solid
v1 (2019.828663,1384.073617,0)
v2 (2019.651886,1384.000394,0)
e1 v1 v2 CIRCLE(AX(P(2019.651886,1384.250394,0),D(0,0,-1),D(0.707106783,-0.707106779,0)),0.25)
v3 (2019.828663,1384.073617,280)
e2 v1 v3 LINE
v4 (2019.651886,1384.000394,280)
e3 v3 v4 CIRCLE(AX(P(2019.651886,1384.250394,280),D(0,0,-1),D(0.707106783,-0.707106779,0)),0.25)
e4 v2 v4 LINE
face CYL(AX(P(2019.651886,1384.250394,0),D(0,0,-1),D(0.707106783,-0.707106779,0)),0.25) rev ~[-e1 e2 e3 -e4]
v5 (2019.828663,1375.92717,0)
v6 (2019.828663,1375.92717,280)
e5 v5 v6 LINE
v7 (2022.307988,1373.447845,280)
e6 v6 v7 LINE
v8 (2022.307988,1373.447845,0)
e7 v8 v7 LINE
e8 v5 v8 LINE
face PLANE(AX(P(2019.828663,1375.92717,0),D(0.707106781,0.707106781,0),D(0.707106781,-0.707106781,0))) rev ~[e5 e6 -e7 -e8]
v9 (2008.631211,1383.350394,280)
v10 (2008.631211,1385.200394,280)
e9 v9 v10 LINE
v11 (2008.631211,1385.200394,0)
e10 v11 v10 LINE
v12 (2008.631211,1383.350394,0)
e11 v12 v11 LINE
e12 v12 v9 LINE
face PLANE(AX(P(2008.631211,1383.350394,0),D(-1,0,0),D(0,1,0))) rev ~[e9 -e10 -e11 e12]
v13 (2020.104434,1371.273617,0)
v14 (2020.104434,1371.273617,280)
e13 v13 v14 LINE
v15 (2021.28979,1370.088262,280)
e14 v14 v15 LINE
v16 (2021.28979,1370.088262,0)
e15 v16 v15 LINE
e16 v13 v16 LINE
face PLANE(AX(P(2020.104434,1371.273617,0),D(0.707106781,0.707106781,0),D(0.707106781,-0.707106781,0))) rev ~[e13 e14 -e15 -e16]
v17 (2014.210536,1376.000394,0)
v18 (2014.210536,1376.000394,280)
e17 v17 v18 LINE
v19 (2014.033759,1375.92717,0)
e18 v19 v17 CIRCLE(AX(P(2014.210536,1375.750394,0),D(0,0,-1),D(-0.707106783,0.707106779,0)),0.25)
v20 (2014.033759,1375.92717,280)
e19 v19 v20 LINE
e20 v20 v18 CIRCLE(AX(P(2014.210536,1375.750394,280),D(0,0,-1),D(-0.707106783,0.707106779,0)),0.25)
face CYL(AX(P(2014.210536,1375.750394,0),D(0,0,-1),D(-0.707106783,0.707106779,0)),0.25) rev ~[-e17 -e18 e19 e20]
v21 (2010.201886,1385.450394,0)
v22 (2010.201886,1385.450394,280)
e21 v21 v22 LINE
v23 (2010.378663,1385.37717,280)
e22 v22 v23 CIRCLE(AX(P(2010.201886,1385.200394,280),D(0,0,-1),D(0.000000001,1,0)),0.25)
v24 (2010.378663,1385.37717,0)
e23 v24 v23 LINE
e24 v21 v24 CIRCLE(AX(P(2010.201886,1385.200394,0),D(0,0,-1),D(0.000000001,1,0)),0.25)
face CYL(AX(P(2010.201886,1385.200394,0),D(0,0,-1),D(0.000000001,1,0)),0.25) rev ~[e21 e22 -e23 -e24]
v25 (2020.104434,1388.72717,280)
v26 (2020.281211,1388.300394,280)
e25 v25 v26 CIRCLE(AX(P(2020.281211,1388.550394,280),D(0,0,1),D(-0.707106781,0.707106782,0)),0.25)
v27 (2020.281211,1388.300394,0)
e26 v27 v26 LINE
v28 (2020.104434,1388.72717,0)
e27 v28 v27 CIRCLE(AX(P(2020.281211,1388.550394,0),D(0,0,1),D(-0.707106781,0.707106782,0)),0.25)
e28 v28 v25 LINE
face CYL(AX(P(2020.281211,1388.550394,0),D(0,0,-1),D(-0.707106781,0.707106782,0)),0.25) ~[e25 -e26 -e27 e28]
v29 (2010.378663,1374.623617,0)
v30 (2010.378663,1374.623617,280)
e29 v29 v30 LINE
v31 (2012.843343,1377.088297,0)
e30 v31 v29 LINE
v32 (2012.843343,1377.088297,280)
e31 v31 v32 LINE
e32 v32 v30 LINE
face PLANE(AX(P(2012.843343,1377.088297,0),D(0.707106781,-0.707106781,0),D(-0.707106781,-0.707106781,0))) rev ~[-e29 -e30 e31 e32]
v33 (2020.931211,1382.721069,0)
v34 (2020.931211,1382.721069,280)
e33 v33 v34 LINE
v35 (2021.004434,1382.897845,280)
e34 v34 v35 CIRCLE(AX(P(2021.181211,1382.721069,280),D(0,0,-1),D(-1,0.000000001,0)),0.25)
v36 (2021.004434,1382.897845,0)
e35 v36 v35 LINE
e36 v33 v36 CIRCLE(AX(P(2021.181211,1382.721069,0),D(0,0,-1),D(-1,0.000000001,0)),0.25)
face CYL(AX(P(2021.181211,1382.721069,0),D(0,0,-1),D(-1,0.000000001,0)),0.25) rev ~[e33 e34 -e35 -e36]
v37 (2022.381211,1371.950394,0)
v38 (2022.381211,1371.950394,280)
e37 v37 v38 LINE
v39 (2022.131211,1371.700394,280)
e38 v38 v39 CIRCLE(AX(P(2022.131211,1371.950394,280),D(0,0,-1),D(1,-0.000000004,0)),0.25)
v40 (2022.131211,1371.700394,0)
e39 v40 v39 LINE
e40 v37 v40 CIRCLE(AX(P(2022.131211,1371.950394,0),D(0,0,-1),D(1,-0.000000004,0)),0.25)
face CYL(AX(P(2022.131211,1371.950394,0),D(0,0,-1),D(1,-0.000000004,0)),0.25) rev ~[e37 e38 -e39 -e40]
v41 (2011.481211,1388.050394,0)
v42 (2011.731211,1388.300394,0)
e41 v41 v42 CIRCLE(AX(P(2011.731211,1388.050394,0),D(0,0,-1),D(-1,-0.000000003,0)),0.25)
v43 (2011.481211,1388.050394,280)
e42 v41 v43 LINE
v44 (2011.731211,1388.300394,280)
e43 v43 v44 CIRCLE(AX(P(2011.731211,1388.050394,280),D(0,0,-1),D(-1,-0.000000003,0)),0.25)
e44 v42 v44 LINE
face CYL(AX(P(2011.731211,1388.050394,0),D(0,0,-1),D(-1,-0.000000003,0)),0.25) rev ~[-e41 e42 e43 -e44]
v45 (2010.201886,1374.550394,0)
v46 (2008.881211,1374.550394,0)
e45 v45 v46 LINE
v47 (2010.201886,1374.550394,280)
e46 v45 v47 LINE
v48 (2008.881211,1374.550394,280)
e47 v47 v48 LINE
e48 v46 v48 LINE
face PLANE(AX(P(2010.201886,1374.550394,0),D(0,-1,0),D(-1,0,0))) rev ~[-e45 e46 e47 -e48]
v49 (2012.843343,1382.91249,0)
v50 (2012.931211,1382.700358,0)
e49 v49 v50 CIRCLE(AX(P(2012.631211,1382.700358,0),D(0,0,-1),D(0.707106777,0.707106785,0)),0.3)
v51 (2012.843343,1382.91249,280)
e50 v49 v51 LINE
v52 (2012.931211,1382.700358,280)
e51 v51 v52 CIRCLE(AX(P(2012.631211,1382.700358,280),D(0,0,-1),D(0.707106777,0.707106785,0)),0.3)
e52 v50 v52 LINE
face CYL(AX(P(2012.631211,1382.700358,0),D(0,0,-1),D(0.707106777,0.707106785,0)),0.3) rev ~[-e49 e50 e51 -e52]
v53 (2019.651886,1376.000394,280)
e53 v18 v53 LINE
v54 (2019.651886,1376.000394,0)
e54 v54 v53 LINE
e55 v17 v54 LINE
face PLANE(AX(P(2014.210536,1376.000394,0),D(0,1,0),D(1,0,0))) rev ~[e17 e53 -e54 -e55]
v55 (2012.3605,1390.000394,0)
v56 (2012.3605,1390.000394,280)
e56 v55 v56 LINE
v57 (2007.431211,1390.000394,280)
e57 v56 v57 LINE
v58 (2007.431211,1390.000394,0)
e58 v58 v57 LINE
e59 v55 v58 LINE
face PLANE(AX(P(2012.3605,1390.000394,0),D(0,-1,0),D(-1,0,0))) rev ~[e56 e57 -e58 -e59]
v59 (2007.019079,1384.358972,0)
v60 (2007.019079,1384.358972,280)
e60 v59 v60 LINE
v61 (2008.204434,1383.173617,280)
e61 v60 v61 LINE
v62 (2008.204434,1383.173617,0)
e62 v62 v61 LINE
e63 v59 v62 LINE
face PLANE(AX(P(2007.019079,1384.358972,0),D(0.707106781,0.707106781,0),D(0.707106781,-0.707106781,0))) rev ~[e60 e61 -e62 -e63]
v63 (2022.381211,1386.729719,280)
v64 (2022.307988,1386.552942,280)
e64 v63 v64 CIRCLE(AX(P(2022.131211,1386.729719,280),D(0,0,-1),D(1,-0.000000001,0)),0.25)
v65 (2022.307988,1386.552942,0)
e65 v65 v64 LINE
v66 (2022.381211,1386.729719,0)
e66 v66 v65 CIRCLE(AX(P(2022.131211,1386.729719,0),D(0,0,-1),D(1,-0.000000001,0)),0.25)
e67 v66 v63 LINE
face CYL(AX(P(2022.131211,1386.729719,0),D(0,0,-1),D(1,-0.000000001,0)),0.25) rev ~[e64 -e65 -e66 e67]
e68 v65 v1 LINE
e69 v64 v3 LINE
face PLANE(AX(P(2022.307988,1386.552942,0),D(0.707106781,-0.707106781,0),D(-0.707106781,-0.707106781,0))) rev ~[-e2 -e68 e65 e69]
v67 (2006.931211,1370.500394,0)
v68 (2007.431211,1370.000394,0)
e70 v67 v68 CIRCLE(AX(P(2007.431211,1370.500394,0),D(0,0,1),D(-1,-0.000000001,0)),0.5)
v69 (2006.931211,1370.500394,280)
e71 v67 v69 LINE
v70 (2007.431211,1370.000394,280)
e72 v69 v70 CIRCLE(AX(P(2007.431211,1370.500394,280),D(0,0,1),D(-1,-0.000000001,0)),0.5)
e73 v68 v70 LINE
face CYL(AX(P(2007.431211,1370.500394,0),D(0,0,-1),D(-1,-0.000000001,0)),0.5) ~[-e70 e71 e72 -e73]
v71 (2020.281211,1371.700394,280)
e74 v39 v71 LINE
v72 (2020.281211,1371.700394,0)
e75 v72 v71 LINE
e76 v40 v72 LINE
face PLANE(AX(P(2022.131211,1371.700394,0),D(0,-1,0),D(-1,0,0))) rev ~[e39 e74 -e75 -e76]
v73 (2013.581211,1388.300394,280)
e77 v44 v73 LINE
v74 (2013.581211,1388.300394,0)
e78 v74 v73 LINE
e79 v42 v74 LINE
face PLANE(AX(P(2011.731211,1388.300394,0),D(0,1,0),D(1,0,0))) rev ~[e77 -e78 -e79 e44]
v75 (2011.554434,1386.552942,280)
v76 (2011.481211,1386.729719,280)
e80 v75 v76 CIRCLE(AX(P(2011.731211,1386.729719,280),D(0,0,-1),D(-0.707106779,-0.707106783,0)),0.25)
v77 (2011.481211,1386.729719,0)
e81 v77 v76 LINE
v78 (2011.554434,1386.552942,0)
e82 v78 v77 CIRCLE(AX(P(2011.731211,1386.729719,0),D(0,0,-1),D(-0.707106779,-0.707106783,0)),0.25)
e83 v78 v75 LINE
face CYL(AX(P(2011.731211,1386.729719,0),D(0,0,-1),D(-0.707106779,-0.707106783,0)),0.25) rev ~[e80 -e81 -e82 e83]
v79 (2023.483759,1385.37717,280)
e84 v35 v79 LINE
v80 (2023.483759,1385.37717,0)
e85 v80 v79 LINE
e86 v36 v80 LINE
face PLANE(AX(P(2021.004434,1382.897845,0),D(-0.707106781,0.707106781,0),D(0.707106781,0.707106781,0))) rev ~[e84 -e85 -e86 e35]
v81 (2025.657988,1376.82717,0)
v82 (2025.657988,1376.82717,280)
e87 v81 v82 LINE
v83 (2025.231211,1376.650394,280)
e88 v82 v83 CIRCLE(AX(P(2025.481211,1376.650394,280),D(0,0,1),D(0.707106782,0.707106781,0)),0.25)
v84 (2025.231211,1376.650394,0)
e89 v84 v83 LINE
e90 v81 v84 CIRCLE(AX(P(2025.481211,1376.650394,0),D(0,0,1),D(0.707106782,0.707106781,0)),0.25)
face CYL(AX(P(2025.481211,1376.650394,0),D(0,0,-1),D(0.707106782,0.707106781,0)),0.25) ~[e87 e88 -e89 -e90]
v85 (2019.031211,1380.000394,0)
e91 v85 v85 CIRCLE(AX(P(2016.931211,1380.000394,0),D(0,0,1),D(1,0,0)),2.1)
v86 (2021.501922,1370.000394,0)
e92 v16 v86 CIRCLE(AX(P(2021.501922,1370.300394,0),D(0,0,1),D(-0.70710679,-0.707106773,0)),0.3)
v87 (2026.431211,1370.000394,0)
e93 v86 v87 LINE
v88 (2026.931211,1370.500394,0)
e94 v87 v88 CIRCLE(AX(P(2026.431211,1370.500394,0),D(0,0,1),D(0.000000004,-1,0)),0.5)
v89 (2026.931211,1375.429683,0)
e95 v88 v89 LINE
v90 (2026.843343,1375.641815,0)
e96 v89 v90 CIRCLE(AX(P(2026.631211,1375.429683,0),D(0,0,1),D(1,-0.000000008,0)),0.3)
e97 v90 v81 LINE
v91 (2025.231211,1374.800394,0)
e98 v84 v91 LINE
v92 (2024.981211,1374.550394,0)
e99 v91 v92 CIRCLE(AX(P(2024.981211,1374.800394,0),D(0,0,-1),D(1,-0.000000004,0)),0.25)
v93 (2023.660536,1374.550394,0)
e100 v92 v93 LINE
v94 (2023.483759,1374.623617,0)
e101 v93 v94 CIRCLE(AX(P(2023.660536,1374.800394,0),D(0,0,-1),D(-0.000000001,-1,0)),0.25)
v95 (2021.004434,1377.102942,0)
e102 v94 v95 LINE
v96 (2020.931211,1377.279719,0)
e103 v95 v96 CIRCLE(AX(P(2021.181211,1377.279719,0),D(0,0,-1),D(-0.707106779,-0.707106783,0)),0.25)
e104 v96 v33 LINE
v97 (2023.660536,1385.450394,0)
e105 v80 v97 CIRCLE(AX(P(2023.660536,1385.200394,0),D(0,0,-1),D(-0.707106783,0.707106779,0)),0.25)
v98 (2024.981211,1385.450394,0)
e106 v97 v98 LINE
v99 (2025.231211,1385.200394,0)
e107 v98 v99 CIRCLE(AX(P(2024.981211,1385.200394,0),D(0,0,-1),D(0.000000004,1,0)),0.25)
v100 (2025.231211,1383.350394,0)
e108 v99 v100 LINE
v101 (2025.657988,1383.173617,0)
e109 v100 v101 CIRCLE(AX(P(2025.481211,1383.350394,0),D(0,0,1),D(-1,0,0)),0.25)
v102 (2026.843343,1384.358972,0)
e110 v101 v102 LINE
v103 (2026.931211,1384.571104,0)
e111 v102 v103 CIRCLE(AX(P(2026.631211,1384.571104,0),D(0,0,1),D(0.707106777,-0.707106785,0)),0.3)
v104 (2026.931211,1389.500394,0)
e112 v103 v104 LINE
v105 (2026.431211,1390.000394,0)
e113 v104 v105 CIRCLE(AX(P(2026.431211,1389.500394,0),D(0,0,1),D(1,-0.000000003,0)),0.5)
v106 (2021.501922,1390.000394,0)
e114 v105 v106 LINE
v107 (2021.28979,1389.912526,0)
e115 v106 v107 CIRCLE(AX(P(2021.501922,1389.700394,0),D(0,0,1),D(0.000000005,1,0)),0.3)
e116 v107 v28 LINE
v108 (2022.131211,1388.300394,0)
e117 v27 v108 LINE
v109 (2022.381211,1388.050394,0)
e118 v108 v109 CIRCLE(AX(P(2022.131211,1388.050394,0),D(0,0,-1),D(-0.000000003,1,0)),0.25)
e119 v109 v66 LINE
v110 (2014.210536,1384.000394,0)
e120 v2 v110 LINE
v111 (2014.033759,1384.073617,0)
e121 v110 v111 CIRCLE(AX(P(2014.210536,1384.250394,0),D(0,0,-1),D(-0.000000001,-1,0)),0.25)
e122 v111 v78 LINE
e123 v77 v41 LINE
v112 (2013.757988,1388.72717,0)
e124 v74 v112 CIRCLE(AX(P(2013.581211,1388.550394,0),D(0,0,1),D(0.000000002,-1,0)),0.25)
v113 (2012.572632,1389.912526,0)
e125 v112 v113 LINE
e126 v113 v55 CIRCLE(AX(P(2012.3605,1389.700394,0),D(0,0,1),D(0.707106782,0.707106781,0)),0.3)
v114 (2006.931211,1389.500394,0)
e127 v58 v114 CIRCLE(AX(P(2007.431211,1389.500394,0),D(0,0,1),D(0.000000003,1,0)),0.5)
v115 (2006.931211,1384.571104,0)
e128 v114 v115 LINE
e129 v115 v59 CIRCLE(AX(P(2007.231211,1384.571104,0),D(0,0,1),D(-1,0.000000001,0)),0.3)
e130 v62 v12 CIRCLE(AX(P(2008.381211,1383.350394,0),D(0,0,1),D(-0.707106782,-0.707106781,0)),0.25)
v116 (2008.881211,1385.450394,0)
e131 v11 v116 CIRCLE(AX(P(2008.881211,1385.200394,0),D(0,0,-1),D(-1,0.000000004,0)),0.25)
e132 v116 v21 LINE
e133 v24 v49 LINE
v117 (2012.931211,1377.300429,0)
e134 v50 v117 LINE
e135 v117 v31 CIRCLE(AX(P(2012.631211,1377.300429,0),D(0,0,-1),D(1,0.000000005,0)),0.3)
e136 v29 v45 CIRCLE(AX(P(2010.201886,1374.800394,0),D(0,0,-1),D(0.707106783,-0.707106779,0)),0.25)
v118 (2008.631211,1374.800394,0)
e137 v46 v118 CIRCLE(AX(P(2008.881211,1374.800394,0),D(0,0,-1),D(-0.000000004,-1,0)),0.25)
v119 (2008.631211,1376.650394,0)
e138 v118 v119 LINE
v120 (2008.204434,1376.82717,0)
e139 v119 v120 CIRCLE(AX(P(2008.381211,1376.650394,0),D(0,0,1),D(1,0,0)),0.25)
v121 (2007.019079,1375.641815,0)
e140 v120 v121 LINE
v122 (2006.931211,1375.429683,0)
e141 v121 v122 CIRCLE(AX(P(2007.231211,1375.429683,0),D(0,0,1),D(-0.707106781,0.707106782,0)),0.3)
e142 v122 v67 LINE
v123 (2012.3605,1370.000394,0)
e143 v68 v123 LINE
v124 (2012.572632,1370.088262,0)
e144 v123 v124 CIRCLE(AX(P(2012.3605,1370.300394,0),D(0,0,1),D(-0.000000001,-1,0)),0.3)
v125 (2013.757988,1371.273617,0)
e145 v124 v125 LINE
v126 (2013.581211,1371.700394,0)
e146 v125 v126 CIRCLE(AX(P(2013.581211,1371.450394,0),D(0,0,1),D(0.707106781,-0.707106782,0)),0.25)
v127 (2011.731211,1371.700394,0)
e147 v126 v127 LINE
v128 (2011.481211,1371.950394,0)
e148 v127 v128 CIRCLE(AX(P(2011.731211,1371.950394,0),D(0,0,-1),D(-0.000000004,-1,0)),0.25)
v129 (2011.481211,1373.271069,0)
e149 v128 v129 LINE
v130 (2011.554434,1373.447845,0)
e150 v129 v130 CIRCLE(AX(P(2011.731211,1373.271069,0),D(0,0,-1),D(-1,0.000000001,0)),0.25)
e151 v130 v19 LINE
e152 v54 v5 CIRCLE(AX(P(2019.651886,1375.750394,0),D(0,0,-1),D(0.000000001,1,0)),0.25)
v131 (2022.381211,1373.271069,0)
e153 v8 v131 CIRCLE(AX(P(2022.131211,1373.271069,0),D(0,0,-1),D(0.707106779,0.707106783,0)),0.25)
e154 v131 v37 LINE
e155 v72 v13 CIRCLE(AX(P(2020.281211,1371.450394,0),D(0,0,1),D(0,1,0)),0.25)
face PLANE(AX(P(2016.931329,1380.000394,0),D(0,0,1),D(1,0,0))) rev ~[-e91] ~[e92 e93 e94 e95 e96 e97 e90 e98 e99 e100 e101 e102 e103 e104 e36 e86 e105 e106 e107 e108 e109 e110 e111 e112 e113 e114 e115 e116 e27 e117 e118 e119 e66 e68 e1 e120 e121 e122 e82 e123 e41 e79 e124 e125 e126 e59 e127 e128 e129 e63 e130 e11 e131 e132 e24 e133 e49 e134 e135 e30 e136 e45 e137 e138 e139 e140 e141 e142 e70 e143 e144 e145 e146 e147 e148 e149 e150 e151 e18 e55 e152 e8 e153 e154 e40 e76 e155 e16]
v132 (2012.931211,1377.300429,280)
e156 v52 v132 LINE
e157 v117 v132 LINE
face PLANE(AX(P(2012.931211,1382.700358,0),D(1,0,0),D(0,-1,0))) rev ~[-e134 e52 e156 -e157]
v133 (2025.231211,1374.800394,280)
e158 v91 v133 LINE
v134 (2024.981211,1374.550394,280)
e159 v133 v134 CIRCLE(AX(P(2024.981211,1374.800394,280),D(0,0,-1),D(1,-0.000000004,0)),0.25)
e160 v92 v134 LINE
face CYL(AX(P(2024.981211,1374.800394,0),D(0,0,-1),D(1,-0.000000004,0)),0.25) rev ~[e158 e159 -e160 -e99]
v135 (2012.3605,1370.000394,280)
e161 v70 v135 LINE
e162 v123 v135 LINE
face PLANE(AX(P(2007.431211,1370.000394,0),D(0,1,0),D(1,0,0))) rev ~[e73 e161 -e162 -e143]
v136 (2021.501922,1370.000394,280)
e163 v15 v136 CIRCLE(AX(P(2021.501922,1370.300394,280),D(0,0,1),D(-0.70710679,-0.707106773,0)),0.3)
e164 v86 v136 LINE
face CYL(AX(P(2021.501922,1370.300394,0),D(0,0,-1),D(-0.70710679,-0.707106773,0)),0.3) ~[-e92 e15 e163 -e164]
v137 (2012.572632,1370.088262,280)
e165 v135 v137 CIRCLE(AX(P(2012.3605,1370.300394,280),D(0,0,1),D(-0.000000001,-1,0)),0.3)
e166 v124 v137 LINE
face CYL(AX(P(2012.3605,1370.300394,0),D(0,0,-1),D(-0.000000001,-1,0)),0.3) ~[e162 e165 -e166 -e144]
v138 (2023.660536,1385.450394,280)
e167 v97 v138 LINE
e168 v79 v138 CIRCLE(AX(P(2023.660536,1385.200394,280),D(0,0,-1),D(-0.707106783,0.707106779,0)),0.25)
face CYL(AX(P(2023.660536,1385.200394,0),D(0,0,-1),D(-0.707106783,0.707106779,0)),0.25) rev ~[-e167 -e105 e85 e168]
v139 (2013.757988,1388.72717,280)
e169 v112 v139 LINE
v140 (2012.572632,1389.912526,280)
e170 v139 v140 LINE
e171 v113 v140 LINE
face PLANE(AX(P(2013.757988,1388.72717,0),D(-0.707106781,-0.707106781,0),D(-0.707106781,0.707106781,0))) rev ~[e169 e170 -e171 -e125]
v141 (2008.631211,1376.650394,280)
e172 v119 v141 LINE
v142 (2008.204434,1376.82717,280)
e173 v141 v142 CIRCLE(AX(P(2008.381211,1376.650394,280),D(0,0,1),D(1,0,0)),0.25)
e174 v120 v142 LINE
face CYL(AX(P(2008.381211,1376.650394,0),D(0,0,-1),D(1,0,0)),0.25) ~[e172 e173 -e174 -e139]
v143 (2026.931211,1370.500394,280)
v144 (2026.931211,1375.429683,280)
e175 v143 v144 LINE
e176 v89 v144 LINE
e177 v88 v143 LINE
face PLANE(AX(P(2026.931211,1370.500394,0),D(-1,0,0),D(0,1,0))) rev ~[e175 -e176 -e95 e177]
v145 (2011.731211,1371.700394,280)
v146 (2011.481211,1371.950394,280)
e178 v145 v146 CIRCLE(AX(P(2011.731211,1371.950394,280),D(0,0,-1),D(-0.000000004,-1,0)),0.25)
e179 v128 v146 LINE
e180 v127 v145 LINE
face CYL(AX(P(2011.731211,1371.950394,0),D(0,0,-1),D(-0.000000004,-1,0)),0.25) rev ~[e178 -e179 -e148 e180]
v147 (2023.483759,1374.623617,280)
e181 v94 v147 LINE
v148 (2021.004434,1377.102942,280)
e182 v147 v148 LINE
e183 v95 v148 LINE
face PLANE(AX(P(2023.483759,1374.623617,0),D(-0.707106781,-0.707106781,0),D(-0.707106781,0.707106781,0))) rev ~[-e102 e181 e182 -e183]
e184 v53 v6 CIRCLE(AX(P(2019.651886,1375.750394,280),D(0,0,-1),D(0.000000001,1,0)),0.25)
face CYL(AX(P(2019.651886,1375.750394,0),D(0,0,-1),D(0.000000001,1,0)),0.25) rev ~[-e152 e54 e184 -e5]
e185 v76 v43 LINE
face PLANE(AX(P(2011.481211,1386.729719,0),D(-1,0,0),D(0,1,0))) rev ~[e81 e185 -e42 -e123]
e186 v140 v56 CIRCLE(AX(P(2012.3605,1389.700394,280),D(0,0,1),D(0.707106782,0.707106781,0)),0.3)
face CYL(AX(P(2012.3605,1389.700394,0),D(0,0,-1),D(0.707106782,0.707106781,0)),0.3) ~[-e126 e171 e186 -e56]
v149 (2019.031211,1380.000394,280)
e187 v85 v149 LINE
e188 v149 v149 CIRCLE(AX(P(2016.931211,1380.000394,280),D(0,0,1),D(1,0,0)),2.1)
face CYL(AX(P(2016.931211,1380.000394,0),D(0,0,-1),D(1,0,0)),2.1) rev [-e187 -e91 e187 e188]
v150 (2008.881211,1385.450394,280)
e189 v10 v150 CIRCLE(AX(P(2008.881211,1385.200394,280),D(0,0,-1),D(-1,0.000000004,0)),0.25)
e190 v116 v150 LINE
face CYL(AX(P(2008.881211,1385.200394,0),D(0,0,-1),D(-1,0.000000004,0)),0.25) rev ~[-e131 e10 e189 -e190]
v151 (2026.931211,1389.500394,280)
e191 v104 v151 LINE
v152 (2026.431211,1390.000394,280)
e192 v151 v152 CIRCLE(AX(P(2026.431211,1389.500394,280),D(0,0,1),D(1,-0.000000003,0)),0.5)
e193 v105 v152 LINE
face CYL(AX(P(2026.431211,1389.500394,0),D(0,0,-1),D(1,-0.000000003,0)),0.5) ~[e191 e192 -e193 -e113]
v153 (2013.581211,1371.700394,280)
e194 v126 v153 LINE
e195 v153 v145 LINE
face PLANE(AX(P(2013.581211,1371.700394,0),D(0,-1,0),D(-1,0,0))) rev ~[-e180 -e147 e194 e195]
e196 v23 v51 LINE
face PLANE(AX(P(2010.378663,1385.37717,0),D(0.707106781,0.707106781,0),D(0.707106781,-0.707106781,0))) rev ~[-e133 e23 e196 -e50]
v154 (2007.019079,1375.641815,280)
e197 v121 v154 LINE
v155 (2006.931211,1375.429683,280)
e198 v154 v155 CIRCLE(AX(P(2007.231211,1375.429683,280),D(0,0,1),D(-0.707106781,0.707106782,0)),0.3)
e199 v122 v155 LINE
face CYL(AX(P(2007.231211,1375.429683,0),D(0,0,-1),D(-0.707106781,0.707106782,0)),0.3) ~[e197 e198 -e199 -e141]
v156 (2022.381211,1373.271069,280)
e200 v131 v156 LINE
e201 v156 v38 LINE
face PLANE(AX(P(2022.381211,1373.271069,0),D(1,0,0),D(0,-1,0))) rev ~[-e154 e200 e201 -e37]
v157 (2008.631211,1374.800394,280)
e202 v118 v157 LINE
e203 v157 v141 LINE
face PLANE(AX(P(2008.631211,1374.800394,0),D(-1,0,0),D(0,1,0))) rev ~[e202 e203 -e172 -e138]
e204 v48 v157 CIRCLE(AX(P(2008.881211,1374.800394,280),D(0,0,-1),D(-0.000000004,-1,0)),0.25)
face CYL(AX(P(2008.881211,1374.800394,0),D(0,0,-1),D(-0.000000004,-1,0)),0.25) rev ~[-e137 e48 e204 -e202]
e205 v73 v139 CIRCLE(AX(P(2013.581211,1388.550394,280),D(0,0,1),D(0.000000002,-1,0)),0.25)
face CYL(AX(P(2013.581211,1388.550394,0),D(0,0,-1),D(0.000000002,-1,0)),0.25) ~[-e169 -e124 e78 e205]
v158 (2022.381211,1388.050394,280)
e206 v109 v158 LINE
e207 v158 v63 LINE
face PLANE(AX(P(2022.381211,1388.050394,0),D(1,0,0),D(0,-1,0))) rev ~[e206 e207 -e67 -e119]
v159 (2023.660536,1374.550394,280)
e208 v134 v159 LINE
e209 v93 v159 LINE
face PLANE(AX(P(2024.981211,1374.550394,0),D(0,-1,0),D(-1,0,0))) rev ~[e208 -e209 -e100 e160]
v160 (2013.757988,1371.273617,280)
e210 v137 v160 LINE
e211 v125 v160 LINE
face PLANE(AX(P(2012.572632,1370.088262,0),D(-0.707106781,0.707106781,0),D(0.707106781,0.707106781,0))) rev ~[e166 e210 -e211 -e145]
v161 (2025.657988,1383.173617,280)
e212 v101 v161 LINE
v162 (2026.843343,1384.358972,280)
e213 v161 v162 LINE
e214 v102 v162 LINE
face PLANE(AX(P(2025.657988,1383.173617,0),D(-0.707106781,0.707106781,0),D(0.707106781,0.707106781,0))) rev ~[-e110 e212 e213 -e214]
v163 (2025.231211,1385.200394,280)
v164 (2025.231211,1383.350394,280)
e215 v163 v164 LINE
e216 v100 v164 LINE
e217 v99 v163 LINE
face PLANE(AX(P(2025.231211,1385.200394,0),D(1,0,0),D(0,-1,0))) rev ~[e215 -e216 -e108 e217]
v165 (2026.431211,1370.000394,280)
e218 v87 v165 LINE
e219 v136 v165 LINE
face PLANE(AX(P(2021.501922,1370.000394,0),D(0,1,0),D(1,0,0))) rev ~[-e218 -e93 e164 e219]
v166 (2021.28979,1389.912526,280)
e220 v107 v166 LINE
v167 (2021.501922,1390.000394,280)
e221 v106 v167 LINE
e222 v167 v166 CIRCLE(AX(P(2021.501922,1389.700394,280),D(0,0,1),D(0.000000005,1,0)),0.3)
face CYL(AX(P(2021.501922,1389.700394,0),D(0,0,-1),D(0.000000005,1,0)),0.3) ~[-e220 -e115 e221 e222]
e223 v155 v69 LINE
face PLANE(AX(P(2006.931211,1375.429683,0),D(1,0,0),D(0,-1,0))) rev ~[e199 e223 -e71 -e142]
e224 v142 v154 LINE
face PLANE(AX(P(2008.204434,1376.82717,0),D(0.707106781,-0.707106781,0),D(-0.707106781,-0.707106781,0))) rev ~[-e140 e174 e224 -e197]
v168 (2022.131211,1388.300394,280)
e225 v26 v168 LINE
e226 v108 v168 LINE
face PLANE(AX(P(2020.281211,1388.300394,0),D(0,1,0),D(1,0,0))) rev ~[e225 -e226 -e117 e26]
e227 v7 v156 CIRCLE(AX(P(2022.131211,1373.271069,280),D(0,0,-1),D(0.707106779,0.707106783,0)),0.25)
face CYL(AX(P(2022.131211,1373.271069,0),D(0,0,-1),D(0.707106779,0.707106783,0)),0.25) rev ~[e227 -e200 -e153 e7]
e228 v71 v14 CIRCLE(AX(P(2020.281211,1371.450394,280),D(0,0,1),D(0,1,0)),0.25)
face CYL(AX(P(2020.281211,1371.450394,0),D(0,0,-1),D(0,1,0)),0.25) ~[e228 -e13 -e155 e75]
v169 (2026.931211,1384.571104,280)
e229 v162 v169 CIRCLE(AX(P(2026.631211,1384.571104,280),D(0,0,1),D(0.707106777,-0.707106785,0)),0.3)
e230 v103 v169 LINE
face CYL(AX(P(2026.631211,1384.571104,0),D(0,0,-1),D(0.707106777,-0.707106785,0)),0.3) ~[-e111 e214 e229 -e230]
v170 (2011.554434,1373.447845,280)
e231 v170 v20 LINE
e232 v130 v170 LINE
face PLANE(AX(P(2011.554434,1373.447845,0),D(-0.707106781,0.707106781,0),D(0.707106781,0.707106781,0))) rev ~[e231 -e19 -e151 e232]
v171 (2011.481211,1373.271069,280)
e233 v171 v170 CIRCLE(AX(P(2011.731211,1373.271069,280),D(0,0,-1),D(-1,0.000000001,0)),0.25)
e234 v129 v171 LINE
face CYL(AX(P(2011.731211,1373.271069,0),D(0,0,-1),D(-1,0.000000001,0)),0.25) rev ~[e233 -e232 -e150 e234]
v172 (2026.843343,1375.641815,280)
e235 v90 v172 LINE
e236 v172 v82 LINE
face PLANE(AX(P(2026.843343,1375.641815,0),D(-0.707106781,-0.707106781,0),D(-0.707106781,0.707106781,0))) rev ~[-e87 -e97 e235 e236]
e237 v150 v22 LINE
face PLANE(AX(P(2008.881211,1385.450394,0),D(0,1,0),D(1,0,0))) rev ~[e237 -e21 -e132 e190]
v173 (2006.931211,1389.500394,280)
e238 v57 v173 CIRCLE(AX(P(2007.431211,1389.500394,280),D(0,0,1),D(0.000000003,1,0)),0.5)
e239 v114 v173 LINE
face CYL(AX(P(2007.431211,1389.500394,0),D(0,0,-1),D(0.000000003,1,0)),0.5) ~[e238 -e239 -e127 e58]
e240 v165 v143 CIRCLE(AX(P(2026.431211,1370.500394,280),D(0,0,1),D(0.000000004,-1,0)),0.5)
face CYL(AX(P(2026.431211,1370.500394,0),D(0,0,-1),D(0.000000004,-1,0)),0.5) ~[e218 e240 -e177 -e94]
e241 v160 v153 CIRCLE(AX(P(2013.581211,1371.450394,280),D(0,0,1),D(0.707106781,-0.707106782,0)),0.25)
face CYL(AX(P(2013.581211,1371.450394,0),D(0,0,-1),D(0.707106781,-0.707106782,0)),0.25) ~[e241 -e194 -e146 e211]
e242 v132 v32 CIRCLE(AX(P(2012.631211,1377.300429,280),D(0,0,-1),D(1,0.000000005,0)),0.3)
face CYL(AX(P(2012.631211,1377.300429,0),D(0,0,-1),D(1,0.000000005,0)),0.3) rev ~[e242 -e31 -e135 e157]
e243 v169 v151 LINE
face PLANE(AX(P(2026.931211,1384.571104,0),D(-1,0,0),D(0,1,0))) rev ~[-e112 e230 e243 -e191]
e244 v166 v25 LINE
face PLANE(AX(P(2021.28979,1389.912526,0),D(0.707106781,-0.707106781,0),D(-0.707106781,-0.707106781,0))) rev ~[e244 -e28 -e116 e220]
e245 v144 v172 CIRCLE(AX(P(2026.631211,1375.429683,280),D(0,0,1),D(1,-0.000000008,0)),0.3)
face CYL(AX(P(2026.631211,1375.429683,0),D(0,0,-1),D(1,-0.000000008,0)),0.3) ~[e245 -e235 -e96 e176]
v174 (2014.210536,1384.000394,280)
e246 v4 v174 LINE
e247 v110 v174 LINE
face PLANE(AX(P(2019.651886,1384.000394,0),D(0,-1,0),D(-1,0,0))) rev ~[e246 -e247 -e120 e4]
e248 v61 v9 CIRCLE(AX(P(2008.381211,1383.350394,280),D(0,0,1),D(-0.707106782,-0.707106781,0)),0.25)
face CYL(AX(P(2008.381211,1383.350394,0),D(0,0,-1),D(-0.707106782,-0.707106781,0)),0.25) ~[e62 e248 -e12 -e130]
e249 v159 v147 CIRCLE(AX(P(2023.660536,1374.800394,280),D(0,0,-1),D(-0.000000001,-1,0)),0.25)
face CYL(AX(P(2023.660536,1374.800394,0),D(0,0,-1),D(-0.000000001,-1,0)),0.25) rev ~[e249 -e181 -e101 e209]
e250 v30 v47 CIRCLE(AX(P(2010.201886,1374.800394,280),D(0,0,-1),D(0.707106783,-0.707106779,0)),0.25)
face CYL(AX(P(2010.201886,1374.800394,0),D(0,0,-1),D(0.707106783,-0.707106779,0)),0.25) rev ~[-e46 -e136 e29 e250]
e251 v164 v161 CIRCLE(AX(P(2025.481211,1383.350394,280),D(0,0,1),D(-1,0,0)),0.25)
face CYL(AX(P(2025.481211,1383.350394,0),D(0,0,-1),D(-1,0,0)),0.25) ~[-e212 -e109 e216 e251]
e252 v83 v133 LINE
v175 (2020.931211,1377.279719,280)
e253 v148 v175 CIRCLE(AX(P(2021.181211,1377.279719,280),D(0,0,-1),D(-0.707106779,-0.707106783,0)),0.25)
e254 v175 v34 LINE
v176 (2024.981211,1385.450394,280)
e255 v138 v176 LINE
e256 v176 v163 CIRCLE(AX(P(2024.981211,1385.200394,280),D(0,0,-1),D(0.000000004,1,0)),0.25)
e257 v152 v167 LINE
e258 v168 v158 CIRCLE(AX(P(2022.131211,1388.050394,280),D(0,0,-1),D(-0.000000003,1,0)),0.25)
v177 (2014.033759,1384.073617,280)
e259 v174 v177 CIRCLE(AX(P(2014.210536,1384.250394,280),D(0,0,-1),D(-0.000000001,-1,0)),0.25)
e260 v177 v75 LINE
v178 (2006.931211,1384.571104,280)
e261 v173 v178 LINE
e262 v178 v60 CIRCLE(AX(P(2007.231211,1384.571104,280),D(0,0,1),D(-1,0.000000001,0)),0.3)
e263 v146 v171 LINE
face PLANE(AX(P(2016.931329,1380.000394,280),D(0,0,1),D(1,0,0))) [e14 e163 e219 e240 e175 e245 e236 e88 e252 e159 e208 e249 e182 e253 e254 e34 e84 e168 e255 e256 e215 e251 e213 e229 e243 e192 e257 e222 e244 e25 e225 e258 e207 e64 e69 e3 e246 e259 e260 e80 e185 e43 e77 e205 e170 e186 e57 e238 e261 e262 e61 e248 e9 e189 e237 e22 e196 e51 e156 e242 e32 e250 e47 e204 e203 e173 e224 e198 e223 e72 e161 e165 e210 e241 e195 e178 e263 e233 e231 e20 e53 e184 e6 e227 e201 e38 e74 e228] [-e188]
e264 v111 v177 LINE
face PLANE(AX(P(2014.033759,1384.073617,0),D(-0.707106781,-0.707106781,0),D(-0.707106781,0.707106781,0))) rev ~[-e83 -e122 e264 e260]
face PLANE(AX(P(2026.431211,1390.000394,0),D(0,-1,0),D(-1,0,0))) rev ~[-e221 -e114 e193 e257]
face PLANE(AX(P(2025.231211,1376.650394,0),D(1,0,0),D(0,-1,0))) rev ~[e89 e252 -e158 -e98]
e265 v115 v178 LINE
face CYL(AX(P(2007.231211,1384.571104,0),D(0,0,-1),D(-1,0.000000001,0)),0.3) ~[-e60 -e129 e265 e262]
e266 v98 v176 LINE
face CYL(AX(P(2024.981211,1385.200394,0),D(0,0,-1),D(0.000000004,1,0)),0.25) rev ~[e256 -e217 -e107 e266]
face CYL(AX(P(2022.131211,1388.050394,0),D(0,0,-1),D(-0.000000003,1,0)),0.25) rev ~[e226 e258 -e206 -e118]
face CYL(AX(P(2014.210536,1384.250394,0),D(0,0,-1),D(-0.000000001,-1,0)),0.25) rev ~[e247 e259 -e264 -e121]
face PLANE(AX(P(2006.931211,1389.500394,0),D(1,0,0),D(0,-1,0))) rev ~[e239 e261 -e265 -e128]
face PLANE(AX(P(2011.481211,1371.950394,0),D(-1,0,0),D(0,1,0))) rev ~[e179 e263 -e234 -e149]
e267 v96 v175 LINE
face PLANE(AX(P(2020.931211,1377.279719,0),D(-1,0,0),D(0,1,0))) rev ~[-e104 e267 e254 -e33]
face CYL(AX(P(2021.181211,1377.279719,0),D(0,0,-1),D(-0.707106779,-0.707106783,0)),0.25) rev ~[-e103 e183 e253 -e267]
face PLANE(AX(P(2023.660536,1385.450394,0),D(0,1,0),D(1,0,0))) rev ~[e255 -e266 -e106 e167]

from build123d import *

# Parameters (mm, degrees)
MODEL_R             = 2.1
BOSS_EXTRUDE1_DEPTH = 280


with BuildPart() as part:
    # Model → Boss-Extrude1 (new body)
    with BuildSketch(Plane.XY):
        with BuildLine():
            Line((2012.931211125, 1381.800393717), (2012.931211125, 1378.200393717))
            Line((2012.931211125, 1378.200393717), (2012.931211125, 1377.300429431))
            ThreePointArc((2012.931211125, 1377.300429431), (2012.908374985, 1377.185624401), (2012.843343159, 1377.088297396))
            Line((2012.843343159, 1377.088297396), (2010.378662785, 1374.623617022))
            ThreePointArc((2010.378662785, 1374.623617022), (2010.297556948, 1374.569423834), (2010.20188609, 1374.550393717))
            Line((2010.20188609, 1374.550393717), (2008.881211125, 1374.550393717))
            ThreePointArc((2008.881211125, 1374.550393717), (2008.70443443, 1374.623617022), (2008.631211125, 1374.800393717))
            Line((2008.631211125, 1374.800393717), (2008.631211125, 1376.650393717))
            ThreePointArc((2008.631211125, 1376.650393717), (2008.476881983, 1376.8813636), (2008.20443443, 1376.827170412))
            Line((2008.20443443, 1376.827170412), (2007.01907909, 1375.641815073))
            ThreePointArc((2007.01907909, 1375.641815073), (2006.954047265, 1375.544488069), (2006.931211125, 1375.429683039))
            Line((2006.931211125, 1375.429683039), (2006.931211125, 1370.500393717))
            ThreePointArc((2006.931211125, 1370.500393717), (2007.077657734, 1370.146840327), (2007.431211125, 1370.000393717))
            Line((2007.431211125, 1370.000393717), (2012.360500447, 1370.000393717))
            ThreePointArc((2012.360500447, 1370.000393717), (2012.475305476, 1370.023229857), (2012.572632481, 1370.088261683))
            Line((2012.572632481, 1370.088261683), (2013.75798782, 1371.273617022))
            ThreePointArc((2013.75798782, 1371.273617022), (2013.812181008, 1371.546064575), (2013.581211125, 1371.700393717))
            Line((2013.581211125, 1371.700393717), (2011.731211125, 1371.700393717))
            ThreePointArc((2011.731211125, 1371.700393717), (2011.55443443, 1371.773617022), (2011.481211125, 1371.950393717))
            Line((2011.481211125, 1371.950393717), (2011.481211125, 1373.271068682))
            ThreePointArc((2011.481211125, 1373.271068682), (2011.500241242, 1373.36673954), (2011.55443443, 1373.447845377))
            Line((2011.55443443, 1373.447845377), (2014.033759465, 1375.927170412))
            ThreePointArc((2014.033759465, 1375.927170412), (2014.114865302, 1375.9813636), (2014.21053616, 1376.000393717))
            Line((2014.21053616, 1376.000393717), (2016.470233902, 1376.000393717))
            Line((2016.470233902, 1376.000393717), (2017.392188348, 1376.000393717))
            Line((2017.392188348, 1376.000393717), (2019.65188609, 1376.000393717))
            ThreePointArc((2019.65188609, 1376.000393717), (2019.747556948, 1375.9813636), (2019.828662785, 1375.927170412))
            Line((2019.828662785, 1375.927170412), (2022.30798782, 1373.447845377))
            ThreePointArc((2022.30798782, 1373.447845377), (2022.362181008, 1373.36673954), (2022.381211125, 1373.271068682))
            Line((2022.381211125, 1373.271068682), (2022.381211125, 1371.950393717))
            ThreePointArc((2022.381211125, 1371.950393717), (2022.30798782, 1371.773617022), (2022.131211125, 1371.700393717))
            Line((2022.131211125, 1371.700393717), (2020.281211125, 1371.700393717))
            ThreePointArc((2020.281211125, 1371.700393717), (2020.050241242, 1371.546064575), (2020.10443443, 1371.273617022))
            Line((2020.10443443, 1371.273617022), (2021.289789769, 1370.088261683))
            ThreePointArc((2021.289789769, 1370.088261683), (2021.387116773, 1370.023229857), (2021.501921803, 1370.000393717))
            Line((2021.501921803, 1370.000393717), (2026.431211125, 1370.000393717))
            ThreePointArc((2026.431211125, 1370.000393717), (2026.784764515, 1370.146840327), (2026.931211125, 1370.500393717))
            Line((2026.931211125, 1370.500393717), (2026.931211125, 1375.429683039))
            ThreePointArc((2026.931211125, 1375.429683039), (2026.908374985, 1375.544488069), (2026.843343159, 1375.641815073))
            Line((2026.843343159, 1375.641815073), (2025.65798782, 1376.827170412))
            ThreePointArc((2025.65798782, 1376.827170412), (2025.385540267, 1376.8813636), (2025.231211125, 1376.650393717))
            Line((2025.231211125, 1376.650393717), (2025.231211125, 1374.800393717))
            ThreePointArc((2025.231211125, 1374.800393717), (2025.15798782, 1374.623617022), (2024.981211125, 1374.550393717))
            Line((2024.981211125, 1374.550393717), (2023.66053616, 1374.550393717))
            ThreePointArc((2023.66053616, 1374.550393717), (2023.564865302, 1374.569423834), (2023.483759465, 1374.623617022))
            Line((2023.483759465, 1374.623617022), (2021.00443443, 1377.102942057))
            ThreePointArc((2021.00443443, 1377.102942057), (2020.950241242, 1377.184047894), (2020.931211125, 1377.279718752))
            Line((2020.931211125, 1377.279718752), (2020.931211125, 1379.539416494))
            Line((2020.931211125, 1379.539416494), (2020.931211125, 1380.46137094))
            Line((2020.931211125, 1380.46137094), (2020.931211125, 1382.721068682))
            ThreePointArc((2020.931211125, 1382.721068682), (2020.950241242, 1382.81673954), (2021.00443443, 1382.897845377))
            Line((2021.00443443, 1382.897845377), (2023.483759465, 1385.377170412))
            ThreePointArc((2023.483759465, 1385.377170412), (2023.564865302, 1385.4313636), (2023.66053616, 1385.450393717))
            Line((2023.66053616, 1385.450393717), (2024.981211125, 1385.450393717))
            ThreePointArc((2024.981211125, 1385.450393717), (2025.15798782, 1385.377170412), (2025.231211125, 1385.200393717))
            Line((2025.231211125, 1385.200393717), (2025.231211125, 1383.350393717))
            ThreePointArc((2025.231211125, 1383.350393717), (2025.385540267, 1383.119423834), (2025.65798782, 1383.173617022))
            Line((2025.65798782, 1383.173617022), (2026.843343159, 1384.358972361))
            ThreePointArc((2026.843343159, 1384.358972361), (2026.908374985, 1384.456299366), (2026.931211125, 1384.571104395))
            Line((2026.931211125, 1384.571104395), (2026.931211125, 1389.500393717))
            ThreePointArc((2026.931211125, 1389.500393717), (2026.784764516, 1389.853947108), (2026.431211125, 1390.000393717))
            Line((2026.431211125, 1390.000393717), (2021.501921803, 1390.000393717))
            ThreePointArc((2021.501921803, 1390.000393717), (2021.387116773, 1389.977557577), (2021.289789769, 1389.912525752))
            Line((2021.289789769, 1389.912525752), (2020.10443443, 1388.727170413))
            ThreePointArc((2020.10443443, 1388.727170413), (2020.050241242, 1388.454722859), (2020.281211125, 1388.300393717))
            Line((2020.281211125, 1388.300393717), (2022.131211125, 1388.300393717))
            ThreePointArc((2022.131211125, 1388.300393717), (2022.30798782, 1388.227170413), (2022.381211125, 1388.050393717))
            Line((2022.381211125, 1388.050393717), (2022.381211125, 1386.729718752))
            ThreePointArc((2022.381211125, 1386.729718752), (2022.362181008, 1386.634047894), (2022.30798782, 1386.552942057))
            Line((2022.30798782, 1386.552942057), (2019.828662785, 1384.073617022))
            ThreePointArc((2019.828662785, 1384.073617022), (2019.747556948, 1384.019423834), (2019.65188609, 1384.000393717))
            Line((2019.65188609, 1384.000393717), (2017.392188348, 1384.000393717))
            Line((2017.392188348, 1384.000393717), (2016.470233902, 1384.000393717))
            Line((2016.470233902, 1384.000393717), (2014.21053616, 1384.000393717))
            ThreePointArc((2014.21053616, 1384.000393717), (2014.114865302, 1384.019423834), (2014.033759465, 1384.073617022))
            Line((2014.033759465, 1384.073617022), (2011.55443443, 1386.552942057))
            ThreePointArc((2011.55443443, 1386.552942057), (2011.500241242, 1386.634047894), (2011.481211125, 1386.729718752))
            Line((2011.481211125, 1386.729718752), (2011.481211125, 1388.050393717))
            ThreePointArc((2011.481211125, 1388.050393717), (2011.55443443, 1388.227170413), (2011.731211125, 1388.300393717))
            Line((2011.731211125, 1388.300393717), (2013.581211125, 1388.300393717))
            ThreePointArc((2013.581211125, 1388.300393717), (2013.812181008, 1388.454722859), (2013.75798782, 1388.727170413))
            Line((2013.75798782, 1388.727170413), (2012.572632481, 1389.912525752))
            ThreePointArc((2012.572632481, 1389.912525752), (2012.475305477, 1389.977557577), (2012.360500447, 1390.000393717))
            Line((2012.360500447, 1390.000393717), (2007.431211125, 1390.000393717))
            ThreePointArc((2007.431211125, 1390.000393717), (2007.077657734, 1389.853947108), (2006.931211125, 1389.500393717))
            Line((2006.931211125, 1389.500393717), (2006.931211125, 1384.571104395))
            ThreePointArc((2006.931211125, 1384.571104395), (2006.954047265, 1384.456299366), (2007.019079091, 1384.358972361))
            Line((2007.019079091, 1384.358972361), (2008.20443443, 1383.173617022))
            ThreePointArc((2008.20443443, 1383.173617022), (2008.476881983, 1383.119423834), (2008.631211125, 1383.350393717))
            Line((2008.631211125, 1383.350393717), (2008.631211125, 1385.200393717))
            ThreePointArc((2008.631211125, 1385.200393717), (2008.70443443, 1385.377170412), (2008.881211125, 1385.450393717))
            Line((2008.881211125, 1385.450393717), (2010.20188609, 1385.450393717))
            ThreePointArc((2010.20188609, 1385.450393717), (2010.297556948, 1385.4313636), (2010.378662785, 1385.377170412))
            Line((2010.378662785, 1385.377170412), (2012.843343159, 1382.912490038))
            ThreePointArc((2012.843343159, 1382.912490038), (2012.908374985, 1382.815163033), (2012.931211125, 1382.700358004))
            Line((2012.931211125, 1382.700358004), (2012.931211125, 1381.800393717))
        make_face()
        with Locations((2016.931211125, 1380.000393717)):
            Circle(MODEL_R, mode=Mode.SUBTRACT)
    extrude(amount=BOSS_EXTRUDE1_DEPTH)


solid = part.part
